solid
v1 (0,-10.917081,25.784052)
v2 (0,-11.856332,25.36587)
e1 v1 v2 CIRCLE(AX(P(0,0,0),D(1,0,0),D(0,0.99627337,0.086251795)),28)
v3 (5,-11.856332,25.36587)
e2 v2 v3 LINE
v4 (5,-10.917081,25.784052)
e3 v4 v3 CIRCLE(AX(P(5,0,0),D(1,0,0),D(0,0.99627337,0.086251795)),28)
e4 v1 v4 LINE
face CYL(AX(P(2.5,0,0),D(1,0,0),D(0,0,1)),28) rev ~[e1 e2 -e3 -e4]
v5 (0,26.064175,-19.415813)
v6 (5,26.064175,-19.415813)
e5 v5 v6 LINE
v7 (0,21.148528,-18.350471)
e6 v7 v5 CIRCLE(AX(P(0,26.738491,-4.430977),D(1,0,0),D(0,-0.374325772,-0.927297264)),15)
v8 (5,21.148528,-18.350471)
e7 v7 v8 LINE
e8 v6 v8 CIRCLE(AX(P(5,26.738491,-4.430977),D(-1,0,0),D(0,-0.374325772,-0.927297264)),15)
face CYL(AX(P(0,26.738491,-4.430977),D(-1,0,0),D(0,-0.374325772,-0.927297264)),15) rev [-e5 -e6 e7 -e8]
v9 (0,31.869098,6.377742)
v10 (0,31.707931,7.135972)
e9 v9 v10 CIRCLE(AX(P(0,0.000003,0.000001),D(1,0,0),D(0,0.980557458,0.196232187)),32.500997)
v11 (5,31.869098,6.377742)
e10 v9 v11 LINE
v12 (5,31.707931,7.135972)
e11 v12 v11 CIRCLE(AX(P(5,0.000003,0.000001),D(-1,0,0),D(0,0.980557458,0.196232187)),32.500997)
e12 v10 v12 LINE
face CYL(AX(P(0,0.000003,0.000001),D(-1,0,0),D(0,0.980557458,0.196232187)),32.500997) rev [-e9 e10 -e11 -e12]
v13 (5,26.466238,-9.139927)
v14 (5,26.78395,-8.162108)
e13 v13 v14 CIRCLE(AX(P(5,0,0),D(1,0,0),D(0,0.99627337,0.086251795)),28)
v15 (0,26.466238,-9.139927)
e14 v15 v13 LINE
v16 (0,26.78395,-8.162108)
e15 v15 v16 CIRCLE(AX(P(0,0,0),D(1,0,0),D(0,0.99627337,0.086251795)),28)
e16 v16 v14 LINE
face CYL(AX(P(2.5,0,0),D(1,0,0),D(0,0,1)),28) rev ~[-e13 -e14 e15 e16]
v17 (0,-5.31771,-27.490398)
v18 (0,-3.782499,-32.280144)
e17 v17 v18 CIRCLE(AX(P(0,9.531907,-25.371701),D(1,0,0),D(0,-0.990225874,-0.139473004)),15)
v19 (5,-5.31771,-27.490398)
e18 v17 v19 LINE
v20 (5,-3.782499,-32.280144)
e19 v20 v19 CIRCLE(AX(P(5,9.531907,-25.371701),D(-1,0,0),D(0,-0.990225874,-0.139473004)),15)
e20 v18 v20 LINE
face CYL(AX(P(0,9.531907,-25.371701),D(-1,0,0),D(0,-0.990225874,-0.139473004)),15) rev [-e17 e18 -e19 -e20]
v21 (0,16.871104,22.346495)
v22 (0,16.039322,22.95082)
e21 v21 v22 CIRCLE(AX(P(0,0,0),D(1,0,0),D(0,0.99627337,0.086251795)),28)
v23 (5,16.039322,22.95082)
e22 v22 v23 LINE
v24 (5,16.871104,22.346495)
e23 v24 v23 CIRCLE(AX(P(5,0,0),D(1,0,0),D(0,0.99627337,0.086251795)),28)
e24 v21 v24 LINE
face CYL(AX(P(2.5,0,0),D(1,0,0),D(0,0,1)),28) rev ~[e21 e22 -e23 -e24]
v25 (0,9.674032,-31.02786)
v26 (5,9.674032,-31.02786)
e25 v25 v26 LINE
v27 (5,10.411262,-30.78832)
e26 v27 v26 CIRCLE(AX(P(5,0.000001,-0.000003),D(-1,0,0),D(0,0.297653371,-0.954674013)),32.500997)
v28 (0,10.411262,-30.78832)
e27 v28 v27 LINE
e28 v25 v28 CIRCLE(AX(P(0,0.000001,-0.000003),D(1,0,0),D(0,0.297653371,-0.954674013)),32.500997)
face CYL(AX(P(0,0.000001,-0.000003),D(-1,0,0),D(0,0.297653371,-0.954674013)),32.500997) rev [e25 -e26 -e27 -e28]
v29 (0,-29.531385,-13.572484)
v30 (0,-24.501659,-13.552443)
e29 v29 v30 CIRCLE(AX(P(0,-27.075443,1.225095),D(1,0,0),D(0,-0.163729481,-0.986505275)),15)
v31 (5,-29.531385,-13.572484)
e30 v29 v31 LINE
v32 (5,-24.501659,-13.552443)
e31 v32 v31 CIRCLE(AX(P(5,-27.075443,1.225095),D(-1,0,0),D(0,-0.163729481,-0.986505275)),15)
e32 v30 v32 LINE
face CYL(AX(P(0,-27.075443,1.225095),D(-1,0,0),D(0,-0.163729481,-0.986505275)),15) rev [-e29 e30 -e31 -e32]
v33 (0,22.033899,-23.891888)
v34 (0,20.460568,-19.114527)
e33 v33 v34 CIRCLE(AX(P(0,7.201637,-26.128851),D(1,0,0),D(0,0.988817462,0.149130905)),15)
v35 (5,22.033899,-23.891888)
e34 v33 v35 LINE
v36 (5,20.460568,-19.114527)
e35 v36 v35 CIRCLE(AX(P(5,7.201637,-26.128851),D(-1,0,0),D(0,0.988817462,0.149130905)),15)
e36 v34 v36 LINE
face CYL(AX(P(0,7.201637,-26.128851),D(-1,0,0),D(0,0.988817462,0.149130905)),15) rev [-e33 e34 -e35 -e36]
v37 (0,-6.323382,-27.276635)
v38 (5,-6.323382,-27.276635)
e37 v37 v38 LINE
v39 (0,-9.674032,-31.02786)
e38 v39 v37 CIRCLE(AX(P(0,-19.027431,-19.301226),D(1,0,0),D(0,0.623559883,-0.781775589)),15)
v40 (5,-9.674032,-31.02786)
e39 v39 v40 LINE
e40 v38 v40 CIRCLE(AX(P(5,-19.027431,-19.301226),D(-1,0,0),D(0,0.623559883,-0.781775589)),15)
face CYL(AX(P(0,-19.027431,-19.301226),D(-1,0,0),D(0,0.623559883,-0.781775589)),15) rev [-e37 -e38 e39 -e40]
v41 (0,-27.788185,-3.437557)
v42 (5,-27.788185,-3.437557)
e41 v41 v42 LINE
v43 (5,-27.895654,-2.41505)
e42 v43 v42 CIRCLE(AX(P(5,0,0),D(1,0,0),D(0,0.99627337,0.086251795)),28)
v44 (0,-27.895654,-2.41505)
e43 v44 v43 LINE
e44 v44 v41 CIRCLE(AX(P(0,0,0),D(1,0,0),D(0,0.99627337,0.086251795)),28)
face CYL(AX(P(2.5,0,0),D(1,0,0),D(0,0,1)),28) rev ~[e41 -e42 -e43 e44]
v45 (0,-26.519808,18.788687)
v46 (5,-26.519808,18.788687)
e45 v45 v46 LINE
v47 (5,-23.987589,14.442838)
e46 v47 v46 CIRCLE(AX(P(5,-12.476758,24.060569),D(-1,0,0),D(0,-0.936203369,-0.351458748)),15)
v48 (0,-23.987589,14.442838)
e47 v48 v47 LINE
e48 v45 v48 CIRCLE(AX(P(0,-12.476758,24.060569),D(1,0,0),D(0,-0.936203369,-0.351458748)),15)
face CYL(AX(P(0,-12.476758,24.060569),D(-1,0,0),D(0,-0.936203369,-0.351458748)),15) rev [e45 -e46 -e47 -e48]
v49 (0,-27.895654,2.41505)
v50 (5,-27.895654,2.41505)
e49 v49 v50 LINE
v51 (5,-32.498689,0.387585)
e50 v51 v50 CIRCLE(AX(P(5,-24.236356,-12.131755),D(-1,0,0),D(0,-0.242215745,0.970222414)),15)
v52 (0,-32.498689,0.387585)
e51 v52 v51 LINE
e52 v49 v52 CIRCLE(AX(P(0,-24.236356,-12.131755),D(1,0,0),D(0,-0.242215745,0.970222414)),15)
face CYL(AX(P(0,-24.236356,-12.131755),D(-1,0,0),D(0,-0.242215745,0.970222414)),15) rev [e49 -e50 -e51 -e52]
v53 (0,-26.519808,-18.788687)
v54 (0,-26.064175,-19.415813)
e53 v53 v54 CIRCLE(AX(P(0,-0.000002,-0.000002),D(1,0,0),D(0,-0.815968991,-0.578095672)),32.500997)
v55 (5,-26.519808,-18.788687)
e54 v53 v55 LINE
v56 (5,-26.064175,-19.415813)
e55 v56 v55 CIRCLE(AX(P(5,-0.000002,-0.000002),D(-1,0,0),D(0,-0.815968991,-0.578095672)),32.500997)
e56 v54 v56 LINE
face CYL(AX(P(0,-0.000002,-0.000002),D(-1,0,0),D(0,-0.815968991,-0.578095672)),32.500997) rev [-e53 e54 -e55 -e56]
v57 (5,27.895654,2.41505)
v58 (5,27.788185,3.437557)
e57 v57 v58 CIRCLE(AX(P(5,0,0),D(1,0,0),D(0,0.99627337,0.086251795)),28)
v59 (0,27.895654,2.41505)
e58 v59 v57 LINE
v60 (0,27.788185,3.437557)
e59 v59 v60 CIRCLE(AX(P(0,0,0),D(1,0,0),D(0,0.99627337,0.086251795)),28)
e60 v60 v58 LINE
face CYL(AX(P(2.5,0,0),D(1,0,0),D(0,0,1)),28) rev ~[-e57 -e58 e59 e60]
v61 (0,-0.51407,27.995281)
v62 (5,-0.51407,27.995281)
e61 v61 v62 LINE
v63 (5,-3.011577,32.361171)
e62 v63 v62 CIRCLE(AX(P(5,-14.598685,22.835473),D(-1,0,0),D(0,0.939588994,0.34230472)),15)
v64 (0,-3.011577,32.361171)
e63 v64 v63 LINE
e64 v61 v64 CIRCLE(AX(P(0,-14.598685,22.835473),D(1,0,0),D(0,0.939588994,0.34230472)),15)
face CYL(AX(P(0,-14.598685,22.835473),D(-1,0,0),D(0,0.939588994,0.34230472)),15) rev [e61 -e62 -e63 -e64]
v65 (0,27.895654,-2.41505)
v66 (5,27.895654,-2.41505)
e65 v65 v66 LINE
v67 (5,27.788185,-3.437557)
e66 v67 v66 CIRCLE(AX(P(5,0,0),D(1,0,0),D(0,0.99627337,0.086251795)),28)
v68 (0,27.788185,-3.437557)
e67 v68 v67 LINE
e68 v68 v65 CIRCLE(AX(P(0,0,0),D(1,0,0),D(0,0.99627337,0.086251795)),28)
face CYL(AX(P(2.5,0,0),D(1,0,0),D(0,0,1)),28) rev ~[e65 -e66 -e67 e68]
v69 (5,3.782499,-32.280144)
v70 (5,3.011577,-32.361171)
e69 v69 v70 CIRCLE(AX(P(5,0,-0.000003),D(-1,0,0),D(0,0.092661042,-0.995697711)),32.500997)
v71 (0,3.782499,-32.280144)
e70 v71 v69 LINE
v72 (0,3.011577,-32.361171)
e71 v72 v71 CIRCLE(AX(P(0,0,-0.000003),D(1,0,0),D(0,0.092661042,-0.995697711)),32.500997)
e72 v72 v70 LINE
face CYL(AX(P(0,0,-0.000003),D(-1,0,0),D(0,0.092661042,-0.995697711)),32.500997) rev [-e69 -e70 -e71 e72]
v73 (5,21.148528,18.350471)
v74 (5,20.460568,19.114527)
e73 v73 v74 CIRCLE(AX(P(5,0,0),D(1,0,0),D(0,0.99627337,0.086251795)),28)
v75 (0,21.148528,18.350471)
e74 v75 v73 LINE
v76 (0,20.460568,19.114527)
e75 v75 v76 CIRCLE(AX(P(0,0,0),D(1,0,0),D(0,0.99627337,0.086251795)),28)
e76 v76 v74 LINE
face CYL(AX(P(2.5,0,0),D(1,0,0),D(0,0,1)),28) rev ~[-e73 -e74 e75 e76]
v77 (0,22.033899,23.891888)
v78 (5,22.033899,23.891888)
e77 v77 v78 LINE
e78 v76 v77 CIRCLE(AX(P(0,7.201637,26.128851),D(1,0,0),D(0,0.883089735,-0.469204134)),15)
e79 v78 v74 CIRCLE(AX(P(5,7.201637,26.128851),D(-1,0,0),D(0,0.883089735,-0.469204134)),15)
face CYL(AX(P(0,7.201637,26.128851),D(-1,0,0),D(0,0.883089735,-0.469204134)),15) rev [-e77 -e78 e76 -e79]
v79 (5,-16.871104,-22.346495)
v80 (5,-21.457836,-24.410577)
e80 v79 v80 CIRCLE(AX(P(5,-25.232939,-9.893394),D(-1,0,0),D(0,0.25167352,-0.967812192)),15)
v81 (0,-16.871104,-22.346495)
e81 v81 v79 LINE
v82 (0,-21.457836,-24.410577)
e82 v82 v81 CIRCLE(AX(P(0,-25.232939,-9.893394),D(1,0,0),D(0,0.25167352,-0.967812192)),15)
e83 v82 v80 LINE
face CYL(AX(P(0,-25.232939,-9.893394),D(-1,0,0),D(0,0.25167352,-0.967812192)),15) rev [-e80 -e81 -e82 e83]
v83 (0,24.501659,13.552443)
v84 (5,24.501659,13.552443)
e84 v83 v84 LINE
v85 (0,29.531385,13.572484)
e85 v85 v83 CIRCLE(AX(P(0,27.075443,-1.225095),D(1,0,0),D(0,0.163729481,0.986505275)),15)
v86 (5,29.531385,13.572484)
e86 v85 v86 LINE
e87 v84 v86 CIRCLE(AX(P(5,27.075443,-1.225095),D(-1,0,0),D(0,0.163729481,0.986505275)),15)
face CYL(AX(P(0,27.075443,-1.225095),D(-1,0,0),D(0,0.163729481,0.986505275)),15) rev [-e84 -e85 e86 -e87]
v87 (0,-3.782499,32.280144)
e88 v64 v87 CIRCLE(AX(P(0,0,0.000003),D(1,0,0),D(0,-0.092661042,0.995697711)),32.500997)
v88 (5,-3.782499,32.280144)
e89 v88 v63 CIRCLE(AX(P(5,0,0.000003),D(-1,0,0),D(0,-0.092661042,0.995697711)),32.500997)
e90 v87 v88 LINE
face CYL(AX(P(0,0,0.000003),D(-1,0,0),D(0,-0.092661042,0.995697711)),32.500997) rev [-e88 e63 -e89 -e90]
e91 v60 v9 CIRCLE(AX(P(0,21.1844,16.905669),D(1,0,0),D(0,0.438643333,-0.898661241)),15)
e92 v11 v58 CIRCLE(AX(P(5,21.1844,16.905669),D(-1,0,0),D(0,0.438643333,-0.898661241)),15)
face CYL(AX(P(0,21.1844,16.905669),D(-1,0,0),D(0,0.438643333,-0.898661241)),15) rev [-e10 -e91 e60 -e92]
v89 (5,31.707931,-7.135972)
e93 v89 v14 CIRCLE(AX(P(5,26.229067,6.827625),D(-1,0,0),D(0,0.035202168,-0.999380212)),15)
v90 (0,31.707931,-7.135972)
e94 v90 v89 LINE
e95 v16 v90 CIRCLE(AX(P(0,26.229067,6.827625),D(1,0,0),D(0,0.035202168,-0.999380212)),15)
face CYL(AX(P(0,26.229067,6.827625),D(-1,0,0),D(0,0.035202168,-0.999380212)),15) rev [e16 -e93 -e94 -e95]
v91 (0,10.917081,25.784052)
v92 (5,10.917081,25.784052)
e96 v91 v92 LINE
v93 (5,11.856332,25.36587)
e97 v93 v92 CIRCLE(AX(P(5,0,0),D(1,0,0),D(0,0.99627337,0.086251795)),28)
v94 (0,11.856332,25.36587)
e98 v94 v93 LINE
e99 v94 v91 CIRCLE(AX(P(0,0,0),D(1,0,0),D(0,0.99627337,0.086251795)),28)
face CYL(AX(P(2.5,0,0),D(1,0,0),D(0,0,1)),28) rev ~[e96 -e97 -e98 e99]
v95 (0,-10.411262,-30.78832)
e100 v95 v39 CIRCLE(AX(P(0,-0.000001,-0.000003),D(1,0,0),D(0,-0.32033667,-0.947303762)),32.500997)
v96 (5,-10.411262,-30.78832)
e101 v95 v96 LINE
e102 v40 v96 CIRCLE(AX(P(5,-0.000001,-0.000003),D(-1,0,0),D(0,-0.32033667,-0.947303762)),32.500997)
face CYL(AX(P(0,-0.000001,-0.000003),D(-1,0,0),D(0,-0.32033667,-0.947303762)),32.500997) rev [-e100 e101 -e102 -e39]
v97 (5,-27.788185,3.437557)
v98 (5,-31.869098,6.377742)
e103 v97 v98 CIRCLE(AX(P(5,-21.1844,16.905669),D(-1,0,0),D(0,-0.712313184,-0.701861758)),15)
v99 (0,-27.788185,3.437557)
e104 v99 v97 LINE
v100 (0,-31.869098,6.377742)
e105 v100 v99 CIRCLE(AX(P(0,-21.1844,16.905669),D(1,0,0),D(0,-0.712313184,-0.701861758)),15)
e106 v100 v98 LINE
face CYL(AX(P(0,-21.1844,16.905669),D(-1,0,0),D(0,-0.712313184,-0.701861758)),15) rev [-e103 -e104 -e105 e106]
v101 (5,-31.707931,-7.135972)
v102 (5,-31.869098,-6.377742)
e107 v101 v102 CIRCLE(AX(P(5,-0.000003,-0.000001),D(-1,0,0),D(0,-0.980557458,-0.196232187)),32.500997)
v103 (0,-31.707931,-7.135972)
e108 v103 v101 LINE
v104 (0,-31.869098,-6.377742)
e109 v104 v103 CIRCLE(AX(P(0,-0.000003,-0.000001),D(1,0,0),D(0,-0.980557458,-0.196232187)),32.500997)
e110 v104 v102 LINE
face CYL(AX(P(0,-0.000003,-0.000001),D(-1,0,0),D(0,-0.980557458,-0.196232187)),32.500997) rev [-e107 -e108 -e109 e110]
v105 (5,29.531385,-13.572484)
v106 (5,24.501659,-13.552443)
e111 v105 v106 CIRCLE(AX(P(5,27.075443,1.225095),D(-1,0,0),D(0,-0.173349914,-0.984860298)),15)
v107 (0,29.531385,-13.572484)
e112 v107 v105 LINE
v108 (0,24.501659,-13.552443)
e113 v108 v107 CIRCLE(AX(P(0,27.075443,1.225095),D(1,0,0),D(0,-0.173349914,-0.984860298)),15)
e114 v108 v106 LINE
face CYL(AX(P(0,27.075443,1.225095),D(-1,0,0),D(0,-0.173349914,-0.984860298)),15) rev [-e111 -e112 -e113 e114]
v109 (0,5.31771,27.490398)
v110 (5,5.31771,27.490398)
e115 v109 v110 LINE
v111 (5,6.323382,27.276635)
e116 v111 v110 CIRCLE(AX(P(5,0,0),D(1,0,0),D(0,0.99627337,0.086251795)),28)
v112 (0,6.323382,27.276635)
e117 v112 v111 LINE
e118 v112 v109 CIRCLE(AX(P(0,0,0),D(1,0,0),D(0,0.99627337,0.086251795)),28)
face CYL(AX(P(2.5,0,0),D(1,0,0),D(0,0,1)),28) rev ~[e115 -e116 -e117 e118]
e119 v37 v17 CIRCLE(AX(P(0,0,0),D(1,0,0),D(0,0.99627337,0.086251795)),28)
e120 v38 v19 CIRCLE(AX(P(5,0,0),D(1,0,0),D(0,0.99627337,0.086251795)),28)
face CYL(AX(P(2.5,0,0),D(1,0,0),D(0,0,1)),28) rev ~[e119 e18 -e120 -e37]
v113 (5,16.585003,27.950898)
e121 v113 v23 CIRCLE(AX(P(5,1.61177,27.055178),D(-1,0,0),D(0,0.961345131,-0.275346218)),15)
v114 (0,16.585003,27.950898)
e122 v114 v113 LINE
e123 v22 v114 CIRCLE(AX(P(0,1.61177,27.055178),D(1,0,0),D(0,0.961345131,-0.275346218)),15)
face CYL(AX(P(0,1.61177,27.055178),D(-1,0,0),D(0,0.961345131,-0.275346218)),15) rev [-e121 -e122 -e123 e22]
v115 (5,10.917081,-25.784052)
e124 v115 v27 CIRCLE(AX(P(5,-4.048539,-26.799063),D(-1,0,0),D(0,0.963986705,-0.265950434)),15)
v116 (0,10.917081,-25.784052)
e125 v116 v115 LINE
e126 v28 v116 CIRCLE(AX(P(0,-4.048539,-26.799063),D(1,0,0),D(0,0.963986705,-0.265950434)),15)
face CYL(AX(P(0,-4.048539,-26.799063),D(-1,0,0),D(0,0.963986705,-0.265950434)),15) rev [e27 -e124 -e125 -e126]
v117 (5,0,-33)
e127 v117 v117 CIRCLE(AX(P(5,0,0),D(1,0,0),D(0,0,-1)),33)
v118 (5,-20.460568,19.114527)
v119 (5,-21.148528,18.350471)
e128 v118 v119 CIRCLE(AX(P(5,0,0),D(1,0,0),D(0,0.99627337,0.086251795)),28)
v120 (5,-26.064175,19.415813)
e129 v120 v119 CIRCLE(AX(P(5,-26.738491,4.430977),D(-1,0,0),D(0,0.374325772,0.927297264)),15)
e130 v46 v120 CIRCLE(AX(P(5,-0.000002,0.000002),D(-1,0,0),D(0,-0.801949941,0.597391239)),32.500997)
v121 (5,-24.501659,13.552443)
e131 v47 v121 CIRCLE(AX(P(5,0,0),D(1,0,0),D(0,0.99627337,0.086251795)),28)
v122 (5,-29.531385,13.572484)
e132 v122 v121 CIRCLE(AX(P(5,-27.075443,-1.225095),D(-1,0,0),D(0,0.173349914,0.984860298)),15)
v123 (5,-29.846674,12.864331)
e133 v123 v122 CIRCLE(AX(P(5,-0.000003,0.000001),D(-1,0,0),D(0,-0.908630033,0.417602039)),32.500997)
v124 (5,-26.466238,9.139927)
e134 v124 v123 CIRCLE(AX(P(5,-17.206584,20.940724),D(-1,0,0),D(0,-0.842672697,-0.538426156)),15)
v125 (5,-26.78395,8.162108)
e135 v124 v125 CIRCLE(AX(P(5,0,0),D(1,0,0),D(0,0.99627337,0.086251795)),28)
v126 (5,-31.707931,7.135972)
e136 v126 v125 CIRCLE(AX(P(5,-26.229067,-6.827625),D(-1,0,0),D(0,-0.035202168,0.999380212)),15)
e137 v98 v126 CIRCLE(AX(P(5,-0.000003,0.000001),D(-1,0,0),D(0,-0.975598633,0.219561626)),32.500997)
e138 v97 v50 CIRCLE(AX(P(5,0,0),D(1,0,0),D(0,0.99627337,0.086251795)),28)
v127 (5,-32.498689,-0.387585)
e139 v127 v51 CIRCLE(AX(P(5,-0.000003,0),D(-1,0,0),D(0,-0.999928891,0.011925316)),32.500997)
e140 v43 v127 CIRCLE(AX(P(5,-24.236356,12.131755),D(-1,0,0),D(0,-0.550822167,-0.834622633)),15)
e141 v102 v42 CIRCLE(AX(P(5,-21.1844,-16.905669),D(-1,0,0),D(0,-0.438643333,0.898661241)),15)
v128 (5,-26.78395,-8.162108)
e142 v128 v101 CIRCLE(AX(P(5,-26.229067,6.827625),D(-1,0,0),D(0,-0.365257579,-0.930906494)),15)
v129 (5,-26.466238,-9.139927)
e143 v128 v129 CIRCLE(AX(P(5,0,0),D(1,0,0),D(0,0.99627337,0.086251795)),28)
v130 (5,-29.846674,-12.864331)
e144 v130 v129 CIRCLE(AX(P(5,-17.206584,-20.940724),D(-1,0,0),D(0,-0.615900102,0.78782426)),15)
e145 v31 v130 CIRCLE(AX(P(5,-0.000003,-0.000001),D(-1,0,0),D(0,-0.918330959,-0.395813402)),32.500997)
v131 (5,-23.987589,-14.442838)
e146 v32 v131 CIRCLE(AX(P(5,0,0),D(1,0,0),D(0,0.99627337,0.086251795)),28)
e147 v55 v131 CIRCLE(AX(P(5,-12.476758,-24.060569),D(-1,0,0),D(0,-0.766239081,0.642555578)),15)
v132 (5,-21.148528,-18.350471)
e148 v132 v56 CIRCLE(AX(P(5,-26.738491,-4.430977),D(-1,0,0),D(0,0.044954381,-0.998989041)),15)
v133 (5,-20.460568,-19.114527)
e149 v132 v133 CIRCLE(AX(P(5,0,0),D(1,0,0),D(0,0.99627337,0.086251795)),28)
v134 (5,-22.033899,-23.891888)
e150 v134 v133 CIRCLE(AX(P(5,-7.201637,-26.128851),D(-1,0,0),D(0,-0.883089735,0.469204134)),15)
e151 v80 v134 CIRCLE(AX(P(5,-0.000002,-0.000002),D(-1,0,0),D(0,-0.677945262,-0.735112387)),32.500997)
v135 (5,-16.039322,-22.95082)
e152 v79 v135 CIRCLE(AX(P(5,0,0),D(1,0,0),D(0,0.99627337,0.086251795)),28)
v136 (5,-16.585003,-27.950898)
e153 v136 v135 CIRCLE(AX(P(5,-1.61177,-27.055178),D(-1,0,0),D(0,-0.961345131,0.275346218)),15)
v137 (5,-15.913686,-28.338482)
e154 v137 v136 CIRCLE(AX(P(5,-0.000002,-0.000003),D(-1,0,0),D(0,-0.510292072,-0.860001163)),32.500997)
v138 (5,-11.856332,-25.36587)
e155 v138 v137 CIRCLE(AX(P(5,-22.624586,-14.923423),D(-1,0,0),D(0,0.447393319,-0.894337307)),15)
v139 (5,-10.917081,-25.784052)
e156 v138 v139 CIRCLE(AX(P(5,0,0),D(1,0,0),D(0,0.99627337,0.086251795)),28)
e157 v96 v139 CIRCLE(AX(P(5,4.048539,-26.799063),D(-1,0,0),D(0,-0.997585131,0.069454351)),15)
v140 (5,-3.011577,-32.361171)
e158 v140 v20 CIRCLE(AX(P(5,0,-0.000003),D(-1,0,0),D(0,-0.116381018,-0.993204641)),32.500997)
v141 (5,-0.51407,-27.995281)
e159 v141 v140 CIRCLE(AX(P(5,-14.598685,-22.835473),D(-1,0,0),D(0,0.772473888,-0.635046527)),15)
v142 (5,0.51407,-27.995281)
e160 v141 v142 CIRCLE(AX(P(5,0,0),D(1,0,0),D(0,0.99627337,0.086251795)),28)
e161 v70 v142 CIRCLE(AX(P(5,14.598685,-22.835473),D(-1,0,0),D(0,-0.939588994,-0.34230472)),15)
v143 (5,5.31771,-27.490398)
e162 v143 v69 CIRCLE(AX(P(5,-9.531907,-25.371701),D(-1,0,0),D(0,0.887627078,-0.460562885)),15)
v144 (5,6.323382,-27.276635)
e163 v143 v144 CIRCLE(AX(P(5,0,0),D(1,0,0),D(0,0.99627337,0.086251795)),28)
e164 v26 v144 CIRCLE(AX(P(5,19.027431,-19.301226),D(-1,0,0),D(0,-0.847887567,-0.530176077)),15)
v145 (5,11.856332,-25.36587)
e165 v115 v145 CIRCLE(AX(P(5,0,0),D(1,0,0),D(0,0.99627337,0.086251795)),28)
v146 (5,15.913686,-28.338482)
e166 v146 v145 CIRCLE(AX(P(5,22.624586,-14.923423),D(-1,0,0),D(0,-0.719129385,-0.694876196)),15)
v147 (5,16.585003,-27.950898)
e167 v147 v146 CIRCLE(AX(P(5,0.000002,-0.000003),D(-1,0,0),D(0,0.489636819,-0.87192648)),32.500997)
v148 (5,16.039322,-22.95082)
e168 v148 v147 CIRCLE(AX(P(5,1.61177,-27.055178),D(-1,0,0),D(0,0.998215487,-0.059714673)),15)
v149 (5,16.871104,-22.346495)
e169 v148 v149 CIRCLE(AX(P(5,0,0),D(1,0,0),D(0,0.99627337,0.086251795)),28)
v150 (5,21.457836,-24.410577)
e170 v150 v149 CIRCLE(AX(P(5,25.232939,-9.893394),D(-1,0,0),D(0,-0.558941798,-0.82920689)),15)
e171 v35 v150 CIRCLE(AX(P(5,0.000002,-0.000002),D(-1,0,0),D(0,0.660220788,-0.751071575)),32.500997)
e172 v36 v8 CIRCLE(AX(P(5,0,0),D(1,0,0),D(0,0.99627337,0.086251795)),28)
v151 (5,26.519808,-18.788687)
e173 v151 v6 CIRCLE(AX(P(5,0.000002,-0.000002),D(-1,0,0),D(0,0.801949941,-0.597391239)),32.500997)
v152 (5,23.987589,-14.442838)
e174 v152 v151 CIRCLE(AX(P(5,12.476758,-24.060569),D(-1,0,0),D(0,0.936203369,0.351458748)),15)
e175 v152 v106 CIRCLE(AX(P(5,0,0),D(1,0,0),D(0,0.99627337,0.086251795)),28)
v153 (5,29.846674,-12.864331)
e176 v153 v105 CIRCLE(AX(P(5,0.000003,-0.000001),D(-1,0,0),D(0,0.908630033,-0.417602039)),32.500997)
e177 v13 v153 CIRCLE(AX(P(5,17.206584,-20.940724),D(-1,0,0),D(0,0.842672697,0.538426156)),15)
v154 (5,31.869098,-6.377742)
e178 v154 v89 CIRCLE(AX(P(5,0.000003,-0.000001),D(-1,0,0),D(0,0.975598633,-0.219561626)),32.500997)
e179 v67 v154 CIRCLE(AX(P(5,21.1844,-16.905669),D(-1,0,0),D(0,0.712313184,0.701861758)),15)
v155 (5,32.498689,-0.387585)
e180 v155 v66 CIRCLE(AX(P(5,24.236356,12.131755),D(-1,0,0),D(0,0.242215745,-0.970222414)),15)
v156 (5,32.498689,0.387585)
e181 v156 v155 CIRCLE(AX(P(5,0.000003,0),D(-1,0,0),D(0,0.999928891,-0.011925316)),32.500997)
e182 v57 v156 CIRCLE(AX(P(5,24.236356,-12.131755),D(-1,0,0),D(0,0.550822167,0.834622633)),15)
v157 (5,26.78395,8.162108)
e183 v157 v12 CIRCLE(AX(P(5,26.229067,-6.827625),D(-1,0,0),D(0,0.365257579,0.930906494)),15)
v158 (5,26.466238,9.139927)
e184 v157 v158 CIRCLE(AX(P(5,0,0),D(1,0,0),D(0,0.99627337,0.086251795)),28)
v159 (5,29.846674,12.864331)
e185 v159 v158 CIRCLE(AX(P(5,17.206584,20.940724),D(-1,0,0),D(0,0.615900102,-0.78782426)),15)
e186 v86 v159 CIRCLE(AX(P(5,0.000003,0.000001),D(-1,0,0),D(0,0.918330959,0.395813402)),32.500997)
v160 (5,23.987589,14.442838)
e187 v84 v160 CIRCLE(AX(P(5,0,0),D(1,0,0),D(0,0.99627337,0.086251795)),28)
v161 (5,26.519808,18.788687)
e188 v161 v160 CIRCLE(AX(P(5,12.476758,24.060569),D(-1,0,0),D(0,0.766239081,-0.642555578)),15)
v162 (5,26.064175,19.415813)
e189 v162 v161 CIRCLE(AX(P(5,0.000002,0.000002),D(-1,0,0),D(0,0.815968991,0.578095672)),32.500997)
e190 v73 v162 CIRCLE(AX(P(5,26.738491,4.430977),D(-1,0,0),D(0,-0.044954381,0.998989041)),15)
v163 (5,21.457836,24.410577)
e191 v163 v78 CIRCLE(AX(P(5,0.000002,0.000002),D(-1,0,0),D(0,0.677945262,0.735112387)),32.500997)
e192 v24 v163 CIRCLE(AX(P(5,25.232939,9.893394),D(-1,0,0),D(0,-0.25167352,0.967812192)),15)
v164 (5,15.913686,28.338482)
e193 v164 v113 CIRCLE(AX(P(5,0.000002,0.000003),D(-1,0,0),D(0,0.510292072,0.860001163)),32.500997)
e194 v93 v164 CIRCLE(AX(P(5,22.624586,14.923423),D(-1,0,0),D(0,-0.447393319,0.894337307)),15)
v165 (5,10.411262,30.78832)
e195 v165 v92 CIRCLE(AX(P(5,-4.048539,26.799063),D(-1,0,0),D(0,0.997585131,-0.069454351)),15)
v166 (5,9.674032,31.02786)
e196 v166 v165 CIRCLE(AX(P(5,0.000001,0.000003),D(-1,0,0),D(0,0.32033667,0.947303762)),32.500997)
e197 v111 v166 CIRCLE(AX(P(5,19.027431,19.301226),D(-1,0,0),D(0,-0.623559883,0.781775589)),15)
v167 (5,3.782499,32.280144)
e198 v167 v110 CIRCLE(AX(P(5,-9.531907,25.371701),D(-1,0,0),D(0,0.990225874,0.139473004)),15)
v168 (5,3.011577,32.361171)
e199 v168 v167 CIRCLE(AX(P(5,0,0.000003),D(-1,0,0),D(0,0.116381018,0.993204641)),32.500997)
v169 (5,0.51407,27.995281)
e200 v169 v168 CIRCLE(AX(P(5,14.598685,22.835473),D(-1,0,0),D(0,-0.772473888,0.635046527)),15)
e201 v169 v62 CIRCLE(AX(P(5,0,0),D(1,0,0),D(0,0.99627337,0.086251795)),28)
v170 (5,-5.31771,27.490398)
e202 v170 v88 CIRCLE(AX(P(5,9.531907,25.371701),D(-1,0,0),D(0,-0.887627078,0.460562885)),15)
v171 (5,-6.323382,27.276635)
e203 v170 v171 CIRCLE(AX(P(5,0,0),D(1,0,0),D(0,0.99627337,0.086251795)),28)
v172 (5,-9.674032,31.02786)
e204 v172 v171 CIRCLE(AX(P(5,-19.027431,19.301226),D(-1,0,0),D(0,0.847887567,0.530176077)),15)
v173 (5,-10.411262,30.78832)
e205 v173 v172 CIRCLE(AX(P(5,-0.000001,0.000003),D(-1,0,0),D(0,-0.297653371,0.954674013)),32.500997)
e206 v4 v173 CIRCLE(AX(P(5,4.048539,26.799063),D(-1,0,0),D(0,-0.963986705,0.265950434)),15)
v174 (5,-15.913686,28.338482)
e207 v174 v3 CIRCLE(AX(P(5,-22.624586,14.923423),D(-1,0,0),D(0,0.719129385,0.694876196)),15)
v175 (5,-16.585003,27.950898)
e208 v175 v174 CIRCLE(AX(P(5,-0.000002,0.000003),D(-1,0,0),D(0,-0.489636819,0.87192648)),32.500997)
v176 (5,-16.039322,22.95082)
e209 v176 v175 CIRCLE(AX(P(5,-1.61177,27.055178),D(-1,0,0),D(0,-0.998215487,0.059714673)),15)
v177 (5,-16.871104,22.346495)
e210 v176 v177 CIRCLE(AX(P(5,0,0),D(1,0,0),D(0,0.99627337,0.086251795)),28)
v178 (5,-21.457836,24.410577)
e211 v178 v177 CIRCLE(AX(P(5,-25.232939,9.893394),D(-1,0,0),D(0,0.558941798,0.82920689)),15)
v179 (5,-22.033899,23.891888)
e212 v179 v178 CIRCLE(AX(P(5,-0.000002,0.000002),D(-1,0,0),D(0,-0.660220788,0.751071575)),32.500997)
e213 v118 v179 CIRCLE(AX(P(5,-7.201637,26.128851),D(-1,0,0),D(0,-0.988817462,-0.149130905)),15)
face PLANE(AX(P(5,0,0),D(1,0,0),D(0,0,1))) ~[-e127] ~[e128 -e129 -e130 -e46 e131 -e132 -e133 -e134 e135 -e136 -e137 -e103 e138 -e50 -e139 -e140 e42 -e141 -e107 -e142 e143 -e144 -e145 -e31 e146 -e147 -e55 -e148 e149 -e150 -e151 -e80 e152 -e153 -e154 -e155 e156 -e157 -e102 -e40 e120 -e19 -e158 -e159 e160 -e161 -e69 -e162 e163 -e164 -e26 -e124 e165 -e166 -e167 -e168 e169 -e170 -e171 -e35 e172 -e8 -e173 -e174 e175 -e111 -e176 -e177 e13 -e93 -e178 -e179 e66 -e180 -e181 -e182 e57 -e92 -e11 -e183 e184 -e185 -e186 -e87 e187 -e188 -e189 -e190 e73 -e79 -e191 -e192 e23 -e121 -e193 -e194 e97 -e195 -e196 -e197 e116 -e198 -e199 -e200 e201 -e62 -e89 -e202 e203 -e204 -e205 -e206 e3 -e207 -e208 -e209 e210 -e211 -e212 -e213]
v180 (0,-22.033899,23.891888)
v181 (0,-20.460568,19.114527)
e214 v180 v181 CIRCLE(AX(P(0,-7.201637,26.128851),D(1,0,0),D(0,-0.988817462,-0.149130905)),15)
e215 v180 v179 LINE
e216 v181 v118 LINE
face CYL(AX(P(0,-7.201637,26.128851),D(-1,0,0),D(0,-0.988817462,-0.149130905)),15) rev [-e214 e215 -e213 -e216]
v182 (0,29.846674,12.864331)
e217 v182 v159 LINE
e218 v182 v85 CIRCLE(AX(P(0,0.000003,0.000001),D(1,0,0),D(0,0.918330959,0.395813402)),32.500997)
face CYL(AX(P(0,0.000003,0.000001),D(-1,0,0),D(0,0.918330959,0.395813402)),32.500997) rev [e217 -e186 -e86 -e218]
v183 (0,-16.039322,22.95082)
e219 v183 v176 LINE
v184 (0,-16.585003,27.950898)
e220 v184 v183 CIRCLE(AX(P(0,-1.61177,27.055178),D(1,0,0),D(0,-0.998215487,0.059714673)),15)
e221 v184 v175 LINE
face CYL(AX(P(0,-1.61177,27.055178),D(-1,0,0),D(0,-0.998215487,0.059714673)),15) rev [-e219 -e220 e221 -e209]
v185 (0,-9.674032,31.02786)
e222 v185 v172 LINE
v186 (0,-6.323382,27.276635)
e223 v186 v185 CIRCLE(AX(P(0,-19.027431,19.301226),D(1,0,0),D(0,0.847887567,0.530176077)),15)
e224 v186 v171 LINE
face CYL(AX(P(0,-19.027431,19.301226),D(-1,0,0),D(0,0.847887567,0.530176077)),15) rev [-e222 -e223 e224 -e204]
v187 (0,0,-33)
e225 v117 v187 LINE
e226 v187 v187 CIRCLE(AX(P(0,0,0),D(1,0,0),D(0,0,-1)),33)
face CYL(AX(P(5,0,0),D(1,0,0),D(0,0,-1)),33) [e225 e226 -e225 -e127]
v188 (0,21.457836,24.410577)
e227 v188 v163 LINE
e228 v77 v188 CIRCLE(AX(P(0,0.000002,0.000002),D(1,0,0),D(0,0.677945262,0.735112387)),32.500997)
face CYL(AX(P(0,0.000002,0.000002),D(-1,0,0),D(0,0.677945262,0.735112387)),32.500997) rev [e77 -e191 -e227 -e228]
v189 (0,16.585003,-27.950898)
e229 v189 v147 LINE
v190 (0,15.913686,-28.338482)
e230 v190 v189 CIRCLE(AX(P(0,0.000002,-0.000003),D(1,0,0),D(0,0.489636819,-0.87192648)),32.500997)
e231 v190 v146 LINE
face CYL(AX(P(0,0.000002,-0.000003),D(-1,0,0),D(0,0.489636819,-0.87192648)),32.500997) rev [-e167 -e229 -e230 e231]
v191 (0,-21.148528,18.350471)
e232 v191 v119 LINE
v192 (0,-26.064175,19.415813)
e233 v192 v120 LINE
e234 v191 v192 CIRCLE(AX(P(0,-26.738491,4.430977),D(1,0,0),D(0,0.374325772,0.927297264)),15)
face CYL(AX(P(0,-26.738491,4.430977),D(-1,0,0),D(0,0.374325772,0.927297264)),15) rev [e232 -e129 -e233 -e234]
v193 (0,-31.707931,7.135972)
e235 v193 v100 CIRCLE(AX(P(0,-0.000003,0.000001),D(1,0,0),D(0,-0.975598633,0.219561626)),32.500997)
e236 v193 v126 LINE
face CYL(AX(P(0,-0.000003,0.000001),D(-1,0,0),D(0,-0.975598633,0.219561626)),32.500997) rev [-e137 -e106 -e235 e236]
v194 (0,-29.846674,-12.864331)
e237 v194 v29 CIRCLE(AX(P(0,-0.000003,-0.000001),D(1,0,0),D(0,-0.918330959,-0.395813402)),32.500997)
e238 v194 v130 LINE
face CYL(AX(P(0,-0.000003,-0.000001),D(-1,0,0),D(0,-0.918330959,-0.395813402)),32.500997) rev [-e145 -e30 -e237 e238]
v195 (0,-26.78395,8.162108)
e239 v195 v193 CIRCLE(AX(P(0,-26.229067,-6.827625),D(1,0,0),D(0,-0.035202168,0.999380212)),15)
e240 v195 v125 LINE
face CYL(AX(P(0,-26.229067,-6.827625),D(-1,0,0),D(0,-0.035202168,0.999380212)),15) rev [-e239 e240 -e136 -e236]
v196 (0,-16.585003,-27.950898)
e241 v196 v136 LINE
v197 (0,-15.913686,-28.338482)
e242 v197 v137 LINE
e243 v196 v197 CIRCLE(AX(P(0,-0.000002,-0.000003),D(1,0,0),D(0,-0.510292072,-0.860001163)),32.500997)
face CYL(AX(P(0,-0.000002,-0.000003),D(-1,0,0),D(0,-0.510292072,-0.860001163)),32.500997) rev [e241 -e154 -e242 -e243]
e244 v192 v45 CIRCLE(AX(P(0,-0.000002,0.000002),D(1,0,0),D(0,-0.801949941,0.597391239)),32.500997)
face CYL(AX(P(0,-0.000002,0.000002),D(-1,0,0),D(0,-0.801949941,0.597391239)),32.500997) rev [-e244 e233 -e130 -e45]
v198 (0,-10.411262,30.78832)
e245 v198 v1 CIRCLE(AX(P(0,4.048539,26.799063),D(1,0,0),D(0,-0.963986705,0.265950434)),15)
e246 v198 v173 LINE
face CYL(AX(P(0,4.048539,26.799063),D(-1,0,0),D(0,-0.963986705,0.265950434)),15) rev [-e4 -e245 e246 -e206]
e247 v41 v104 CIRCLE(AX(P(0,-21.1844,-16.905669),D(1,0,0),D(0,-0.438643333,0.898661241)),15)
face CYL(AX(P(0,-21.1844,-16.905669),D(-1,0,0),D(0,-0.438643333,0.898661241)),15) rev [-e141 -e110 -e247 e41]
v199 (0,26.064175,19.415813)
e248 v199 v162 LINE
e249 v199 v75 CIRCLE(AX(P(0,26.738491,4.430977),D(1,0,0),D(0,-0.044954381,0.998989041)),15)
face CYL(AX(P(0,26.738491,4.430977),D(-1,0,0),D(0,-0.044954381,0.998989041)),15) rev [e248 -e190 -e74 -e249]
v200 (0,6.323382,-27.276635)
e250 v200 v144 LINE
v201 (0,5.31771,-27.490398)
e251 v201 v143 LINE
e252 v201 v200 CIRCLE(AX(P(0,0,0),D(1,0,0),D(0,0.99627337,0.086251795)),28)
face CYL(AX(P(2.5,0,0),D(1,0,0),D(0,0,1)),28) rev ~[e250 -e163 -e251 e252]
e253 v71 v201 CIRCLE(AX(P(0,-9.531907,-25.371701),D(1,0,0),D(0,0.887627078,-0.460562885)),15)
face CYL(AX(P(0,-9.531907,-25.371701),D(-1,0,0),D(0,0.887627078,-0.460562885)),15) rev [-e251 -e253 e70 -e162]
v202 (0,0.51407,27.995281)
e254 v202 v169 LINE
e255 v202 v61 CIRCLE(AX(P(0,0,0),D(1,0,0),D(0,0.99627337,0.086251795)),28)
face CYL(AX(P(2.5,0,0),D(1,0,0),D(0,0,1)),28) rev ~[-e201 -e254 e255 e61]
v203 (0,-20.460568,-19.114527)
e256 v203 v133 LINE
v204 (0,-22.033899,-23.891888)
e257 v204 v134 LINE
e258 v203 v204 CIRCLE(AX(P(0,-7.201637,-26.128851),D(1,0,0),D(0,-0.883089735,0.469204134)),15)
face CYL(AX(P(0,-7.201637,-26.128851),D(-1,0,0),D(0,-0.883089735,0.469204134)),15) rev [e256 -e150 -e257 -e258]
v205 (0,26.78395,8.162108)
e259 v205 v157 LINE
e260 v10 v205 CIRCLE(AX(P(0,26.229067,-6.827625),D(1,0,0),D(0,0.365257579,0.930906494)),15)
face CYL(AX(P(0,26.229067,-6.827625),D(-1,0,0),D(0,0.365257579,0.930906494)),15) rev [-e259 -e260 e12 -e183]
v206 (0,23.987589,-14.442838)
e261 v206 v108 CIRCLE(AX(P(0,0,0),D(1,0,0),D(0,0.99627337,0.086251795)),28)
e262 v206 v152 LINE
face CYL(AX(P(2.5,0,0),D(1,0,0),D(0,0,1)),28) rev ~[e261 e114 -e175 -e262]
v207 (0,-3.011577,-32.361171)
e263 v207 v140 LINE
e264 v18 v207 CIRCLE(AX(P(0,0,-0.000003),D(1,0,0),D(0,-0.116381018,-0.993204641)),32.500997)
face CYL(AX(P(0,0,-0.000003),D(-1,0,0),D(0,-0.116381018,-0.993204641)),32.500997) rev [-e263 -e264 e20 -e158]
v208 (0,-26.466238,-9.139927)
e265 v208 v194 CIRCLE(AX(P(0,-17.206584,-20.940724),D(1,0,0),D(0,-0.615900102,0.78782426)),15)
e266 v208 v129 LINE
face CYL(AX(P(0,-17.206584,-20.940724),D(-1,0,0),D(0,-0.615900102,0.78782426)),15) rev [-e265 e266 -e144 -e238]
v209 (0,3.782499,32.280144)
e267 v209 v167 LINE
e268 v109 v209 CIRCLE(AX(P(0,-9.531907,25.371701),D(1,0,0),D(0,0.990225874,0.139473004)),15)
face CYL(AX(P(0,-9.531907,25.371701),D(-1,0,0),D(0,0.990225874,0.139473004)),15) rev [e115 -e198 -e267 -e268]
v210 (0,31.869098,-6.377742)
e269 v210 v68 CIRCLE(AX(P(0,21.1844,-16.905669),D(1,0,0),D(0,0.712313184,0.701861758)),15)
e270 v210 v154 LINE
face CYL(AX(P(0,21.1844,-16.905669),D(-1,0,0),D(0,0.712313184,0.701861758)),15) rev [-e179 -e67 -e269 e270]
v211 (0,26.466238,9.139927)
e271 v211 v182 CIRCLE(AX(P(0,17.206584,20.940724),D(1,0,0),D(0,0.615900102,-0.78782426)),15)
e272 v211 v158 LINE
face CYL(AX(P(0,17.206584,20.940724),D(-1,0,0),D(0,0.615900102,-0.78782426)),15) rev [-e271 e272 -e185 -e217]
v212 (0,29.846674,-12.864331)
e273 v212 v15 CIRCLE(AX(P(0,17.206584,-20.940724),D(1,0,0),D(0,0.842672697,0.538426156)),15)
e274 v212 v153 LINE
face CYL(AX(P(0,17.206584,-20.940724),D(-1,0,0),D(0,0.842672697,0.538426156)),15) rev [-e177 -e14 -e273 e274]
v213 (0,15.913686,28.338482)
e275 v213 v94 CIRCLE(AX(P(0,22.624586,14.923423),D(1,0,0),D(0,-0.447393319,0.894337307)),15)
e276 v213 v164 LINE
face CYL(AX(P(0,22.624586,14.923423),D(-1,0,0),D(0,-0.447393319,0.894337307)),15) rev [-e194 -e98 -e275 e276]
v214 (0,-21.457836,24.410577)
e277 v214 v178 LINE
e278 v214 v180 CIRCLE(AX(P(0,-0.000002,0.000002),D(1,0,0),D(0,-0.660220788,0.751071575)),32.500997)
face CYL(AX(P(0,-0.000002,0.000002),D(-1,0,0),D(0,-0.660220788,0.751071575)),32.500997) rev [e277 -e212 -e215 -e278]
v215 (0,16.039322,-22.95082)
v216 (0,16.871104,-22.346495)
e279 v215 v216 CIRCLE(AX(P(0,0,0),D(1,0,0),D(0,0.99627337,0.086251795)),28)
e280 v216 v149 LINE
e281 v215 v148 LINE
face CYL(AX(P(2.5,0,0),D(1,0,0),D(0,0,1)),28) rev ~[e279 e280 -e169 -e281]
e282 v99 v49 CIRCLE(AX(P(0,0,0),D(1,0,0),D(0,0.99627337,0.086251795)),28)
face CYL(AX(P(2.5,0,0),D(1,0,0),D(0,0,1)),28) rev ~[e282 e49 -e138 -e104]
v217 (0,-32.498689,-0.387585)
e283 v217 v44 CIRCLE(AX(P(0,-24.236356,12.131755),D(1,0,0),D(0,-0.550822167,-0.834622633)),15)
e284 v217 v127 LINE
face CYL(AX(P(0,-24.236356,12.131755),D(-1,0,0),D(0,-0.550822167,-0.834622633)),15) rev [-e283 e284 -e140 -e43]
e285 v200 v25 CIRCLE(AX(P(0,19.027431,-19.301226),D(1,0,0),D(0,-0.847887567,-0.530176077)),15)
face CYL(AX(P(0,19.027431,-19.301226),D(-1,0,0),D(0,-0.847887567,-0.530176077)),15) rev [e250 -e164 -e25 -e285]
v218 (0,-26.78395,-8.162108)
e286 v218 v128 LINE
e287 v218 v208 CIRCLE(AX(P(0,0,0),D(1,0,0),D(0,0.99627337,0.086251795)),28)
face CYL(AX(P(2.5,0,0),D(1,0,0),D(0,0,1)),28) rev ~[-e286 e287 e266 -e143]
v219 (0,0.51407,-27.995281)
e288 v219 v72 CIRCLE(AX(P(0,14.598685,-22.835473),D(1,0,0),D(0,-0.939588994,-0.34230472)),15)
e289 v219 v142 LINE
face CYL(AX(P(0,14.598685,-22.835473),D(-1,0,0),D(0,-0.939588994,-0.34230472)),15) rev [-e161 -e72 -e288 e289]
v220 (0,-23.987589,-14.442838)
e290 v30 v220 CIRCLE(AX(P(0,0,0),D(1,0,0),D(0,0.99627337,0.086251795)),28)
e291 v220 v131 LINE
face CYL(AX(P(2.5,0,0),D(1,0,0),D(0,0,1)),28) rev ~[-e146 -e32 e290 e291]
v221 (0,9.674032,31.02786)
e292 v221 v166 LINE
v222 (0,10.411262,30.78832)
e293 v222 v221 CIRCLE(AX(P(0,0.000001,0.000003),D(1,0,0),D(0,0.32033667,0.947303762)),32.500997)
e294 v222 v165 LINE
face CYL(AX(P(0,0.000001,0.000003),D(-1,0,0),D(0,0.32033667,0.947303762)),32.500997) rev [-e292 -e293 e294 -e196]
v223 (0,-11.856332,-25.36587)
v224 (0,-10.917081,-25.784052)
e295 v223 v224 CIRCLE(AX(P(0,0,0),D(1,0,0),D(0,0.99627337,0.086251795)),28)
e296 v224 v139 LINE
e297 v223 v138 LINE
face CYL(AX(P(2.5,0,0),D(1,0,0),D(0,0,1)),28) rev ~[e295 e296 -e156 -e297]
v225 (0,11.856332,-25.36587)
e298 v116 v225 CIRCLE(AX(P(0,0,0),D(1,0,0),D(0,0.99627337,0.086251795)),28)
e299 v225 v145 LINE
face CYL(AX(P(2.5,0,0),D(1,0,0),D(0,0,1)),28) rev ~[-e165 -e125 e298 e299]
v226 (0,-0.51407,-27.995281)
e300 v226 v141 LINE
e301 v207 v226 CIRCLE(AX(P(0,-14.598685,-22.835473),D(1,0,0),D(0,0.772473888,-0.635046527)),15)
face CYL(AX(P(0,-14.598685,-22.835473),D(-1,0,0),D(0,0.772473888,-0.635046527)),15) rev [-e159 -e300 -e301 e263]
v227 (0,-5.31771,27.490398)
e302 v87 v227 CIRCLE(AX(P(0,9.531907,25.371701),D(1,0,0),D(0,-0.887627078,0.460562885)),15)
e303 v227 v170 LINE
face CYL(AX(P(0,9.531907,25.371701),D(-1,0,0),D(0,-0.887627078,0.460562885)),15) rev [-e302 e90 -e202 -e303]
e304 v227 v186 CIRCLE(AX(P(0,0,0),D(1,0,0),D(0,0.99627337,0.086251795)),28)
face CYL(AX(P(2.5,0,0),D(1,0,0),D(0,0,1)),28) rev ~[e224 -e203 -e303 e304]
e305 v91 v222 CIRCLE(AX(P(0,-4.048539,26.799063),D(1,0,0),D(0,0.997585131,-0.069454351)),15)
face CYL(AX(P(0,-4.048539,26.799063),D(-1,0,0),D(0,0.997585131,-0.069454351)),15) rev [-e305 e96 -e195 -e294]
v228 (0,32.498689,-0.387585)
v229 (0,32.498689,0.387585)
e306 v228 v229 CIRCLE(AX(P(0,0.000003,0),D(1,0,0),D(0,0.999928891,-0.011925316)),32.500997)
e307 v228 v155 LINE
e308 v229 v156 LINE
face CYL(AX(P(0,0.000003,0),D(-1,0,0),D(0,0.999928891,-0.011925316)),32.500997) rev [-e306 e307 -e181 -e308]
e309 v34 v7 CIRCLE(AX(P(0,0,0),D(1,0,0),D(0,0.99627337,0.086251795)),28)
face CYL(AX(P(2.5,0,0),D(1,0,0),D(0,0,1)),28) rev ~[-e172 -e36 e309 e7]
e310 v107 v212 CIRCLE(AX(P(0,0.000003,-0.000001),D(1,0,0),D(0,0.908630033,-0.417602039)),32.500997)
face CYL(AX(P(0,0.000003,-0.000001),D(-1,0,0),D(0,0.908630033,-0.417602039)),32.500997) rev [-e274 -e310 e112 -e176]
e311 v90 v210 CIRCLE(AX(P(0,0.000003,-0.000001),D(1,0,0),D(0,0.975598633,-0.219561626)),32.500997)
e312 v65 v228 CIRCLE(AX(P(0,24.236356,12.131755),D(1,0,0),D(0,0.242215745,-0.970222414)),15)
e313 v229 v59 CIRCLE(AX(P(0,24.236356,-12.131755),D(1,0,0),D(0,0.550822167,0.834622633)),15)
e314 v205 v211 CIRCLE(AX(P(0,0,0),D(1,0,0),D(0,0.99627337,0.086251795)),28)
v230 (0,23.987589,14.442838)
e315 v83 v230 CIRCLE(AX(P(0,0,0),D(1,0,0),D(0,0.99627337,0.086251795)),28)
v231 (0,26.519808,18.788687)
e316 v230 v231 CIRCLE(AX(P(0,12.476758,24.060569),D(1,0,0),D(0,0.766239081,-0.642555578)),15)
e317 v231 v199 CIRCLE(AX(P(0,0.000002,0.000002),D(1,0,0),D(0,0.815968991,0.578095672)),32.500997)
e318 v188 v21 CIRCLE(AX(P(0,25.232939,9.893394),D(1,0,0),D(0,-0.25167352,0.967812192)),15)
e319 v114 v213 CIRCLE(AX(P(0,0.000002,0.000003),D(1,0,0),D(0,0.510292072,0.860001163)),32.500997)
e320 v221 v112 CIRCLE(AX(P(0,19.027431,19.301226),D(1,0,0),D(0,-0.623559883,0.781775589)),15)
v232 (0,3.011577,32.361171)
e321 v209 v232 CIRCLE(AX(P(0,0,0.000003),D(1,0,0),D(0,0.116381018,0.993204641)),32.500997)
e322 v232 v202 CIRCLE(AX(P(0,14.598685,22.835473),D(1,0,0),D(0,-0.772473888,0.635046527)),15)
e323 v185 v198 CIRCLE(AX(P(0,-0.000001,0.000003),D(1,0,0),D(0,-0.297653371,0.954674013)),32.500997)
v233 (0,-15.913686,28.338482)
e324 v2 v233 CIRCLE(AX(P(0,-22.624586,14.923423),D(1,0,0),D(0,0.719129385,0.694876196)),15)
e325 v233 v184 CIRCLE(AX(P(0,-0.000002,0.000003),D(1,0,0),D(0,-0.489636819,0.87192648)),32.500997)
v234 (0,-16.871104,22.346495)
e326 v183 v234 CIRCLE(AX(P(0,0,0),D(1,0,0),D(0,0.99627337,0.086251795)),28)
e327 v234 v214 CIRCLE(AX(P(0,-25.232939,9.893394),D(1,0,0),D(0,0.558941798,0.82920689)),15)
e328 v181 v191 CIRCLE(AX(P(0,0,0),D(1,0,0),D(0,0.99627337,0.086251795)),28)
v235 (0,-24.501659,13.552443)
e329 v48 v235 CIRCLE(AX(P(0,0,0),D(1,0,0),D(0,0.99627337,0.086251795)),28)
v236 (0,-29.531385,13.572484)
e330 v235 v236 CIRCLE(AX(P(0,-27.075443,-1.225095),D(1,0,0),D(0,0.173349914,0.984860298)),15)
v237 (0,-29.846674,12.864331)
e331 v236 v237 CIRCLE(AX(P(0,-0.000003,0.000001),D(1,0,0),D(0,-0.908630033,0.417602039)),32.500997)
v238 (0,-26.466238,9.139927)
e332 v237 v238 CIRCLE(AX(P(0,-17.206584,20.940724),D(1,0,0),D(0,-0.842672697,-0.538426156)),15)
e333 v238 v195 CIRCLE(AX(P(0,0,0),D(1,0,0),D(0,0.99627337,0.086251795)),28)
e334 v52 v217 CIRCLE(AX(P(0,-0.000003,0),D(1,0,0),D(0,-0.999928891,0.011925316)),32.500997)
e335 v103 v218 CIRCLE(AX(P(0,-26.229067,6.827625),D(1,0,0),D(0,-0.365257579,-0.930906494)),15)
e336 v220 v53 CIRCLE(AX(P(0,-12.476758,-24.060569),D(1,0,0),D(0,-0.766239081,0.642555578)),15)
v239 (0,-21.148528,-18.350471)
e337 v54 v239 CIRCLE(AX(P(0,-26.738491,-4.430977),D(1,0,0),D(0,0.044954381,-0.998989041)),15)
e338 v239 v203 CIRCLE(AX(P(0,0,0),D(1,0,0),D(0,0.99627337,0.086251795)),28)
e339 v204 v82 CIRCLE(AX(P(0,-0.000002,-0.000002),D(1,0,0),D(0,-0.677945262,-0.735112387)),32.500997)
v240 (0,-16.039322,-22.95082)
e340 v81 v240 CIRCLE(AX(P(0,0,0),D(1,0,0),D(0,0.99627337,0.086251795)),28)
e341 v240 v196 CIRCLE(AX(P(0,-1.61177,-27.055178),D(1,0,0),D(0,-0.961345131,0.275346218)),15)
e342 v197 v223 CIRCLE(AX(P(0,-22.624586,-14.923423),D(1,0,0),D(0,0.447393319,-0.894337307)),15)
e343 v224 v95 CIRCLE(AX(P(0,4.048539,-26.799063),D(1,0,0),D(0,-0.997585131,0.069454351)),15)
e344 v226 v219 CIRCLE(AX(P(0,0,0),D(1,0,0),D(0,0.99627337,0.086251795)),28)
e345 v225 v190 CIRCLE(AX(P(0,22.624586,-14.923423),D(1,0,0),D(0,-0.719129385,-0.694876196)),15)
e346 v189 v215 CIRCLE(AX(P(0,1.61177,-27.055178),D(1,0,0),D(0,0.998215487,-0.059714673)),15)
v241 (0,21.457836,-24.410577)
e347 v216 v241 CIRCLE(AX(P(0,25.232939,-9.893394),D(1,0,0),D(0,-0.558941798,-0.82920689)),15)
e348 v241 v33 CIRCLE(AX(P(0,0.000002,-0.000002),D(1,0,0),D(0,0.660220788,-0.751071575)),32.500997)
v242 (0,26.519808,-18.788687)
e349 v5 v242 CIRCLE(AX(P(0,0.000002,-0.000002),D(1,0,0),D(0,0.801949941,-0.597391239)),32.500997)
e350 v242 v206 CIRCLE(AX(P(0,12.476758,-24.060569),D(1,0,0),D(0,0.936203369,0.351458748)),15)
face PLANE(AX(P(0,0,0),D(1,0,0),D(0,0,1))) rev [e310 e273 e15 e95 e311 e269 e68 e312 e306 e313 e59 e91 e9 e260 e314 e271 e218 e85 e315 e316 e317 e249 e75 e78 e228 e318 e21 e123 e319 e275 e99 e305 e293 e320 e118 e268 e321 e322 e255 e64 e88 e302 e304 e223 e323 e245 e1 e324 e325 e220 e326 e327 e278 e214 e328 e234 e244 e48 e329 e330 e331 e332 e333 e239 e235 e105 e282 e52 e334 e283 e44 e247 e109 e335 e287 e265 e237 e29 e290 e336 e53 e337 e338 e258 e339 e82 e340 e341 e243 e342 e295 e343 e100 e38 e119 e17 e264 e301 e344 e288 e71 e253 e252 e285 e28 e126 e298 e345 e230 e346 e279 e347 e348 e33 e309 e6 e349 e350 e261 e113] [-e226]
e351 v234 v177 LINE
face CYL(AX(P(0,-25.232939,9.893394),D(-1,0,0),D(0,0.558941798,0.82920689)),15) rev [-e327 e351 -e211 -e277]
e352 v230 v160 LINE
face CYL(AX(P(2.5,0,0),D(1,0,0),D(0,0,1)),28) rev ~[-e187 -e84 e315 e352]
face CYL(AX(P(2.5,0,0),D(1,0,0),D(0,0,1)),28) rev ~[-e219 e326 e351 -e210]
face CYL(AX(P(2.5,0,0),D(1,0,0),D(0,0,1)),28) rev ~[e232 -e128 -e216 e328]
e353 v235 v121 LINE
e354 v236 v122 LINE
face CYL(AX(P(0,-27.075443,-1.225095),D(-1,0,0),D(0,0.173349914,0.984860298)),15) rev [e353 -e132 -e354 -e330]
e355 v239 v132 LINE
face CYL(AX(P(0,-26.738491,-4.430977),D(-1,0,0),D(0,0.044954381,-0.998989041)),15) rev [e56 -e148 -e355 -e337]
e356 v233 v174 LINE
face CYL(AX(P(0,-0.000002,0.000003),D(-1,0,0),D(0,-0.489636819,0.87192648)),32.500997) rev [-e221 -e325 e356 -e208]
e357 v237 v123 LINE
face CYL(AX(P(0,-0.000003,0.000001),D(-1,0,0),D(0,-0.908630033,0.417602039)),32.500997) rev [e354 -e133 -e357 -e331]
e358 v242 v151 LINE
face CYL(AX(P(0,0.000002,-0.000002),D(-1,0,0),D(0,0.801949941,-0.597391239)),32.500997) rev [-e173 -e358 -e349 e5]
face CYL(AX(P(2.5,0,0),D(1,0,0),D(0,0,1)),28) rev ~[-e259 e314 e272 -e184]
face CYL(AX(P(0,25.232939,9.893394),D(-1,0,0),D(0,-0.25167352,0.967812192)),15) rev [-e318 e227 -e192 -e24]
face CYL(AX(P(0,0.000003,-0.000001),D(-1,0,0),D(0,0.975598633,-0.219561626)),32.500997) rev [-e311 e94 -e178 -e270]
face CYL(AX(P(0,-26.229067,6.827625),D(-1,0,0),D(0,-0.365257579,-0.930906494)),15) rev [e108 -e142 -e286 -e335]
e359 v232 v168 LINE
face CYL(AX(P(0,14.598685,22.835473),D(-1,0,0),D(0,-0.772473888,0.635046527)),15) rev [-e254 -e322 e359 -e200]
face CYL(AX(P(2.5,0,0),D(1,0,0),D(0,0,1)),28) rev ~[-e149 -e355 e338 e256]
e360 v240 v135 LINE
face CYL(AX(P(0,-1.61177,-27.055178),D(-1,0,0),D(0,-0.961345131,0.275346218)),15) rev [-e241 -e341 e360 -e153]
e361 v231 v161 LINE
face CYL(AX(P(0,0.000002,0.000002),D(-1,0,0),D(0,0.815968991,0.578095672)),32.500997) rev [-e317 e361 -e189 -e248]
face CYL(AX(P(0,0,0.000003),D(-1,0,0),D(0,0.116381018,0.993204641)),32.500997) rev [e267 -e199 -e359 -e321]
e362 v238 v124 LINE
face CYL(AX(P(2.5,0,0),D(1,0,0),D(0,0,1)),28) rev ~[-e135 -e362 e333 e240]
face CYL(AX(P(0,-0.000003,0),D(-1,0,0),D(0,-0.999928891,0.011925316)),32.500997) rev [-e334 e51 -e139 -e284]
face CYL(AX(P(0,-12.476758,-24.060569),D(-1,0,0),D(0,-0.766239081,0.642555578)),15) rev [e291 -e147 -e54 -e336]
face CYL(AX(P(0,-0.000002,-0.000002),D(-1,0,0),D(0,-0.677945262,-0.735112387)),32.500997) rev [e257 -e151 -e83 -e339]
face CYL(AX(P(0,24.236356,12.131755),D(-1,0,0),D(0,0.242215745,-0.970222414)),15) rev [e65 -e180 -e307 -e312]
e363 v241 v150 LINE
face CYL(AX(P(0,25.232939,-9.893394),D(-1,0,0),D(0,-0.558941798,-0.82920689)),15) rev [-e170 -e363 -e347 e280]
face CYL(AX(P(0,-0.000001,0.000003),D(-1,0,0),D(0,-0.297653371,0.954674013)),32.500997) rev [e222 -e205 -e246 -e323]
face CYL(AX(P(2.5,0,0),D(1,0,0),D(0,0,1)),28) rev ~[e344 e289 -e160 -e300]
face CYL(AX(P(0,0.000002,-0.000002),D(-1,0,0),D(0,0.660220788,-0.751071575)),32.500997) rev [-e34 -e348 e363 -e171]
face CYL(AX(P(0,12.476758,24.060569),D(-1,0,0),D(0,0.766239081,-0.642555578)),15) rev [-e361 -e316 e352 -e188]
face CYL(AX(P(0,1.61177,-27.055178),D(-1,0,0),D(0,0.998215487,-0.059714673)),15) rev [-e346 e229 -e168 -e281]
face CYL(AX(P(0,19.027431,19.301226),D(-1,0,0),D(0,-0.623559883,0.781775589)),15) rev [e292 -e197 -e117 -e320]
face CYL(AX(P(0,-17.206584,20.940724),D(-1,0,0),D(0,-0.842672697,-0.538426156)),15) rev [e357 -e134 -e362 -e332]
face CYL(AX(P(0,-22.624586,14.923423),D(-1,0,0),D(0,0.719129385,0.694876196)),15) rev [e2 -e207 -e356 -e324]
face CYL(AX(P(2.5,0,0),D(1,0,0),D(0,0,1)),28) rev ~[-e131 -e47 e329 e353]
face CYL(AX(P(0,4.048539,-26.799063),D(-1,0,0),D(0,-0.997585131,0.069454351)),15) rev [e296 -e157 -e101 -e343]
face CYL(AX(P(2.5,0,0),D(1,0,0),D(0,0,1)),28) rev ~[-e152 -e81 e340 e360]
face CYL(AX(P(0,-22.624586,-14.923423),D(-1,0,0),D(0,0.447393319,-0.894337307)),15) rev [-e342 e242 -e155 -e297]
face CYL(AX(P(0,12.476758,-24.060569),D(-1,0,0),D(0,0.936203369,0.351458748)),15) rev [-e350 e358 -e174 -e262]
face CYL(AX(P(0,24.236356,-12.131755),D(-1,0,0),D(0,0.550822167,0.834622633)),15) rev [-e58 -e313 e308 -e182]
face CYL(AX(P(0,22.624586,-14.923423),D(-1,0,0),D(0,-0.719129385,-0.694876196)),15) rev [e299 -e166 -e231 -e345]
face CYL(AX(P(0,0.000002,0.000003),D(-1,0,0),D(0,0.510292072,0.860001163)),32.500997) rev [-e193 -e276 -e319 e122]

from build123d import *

# Parameters (mm, degrees)
BASPROSKE_W           = 5
BASPROSKE_H           = 7
TOOTHCUT_DEPTH        = 50.749371855
TEETHCUTS_COUNT       = 30
TEETHCUTS_ANGLE       = 348
CROQUIS1_OUTSIDE_W    = 91.824
CROQUIS1_OUTSIDE_H    = 91.824
CROQUIS1_OUTSIDE_R    = 33
CORTAR_EXTRUIR1_DEPTH = 50.749371855


with BuildPart() as part:
    # BasProSke → Base-Revolve (revolve)
    with BuildSketch(Plane(origin=(0, 0, 0), x_dir=(1, 0, 0), z_dir=(0, 1, 0)), mode=Mode.PRIVATE) as base_revolve_sk:
        with Locations((2.5, 31.5)):
            Rectangle(BASPROSKE_W, BASPROSKE_H)
    revolve(base_revolve_sk.sketch.rotate(Axis((-10, 0, 0), (1, 0, 0)), 180), axis=Axis((-10, 0, 0), (1, 0, 0)))

    # TooCutSke → ToothCut (cut, through all)
    with BuildSketch(Plane(origin=(0, 0, 0), x_dir=(0, 0, -1), z_dir=(1, 0, 0))):
        with BuildLine():
            ThreePointArc((2.421581378, 27.869592548), (1.601037152, 30.270461464), (0.387584664, 32.498688883))
            ThreePointArc((0.387584664, 32.498688883), (0, 32.501), (-0.387584664, 32.498688883))
            ThreePointArc((-0.387584664, 32.498688883), (-1.601037152, 30.270461464), (-2.421581378, 27.869592548))
            ThreePointArc((-2.421581378, 27.869592548), (0, 27.9746), (2.421581378, 27.869592548))
        make_face()
    toothcut = extrude(amount=TOOTHCUT_DEPTH, mode=Mode.SUBTRACT)

    # TeethCuts: ToothCut ×30 about axis
    teethcuts_axis = Axis((-10, 0, 0), (1, 0, 0))
    for i in range(1, TEETHCUTS_COUNT):
        add(toothcut.rotate(teethcuts_axis, i * TEETHCUTS_ANGLE / (TEETHCUTS_COUNT - 1)), mode=Mode.SUBTRACT)

    # Croquis1 outside → Cortar-Extruir1 (cut, through all)
    with BuildSketch(Plane(origin=(5, 0, 0), x_dir=(0, 0, -1), z_dir=(1, 0, 0))):
        Rectangle(CROQUIS1_OUTSIDE_W, CROQUIS1_OUTSIDE_H)
        Circle(CROQUIS1_OUTSIDE_R, mode=Mode.SUBTRACT)
    extrude(amount=-CORTAR_EXTRUIR1_DEPTH, mode=Mode.SUBTRACT)


solid = part.part
